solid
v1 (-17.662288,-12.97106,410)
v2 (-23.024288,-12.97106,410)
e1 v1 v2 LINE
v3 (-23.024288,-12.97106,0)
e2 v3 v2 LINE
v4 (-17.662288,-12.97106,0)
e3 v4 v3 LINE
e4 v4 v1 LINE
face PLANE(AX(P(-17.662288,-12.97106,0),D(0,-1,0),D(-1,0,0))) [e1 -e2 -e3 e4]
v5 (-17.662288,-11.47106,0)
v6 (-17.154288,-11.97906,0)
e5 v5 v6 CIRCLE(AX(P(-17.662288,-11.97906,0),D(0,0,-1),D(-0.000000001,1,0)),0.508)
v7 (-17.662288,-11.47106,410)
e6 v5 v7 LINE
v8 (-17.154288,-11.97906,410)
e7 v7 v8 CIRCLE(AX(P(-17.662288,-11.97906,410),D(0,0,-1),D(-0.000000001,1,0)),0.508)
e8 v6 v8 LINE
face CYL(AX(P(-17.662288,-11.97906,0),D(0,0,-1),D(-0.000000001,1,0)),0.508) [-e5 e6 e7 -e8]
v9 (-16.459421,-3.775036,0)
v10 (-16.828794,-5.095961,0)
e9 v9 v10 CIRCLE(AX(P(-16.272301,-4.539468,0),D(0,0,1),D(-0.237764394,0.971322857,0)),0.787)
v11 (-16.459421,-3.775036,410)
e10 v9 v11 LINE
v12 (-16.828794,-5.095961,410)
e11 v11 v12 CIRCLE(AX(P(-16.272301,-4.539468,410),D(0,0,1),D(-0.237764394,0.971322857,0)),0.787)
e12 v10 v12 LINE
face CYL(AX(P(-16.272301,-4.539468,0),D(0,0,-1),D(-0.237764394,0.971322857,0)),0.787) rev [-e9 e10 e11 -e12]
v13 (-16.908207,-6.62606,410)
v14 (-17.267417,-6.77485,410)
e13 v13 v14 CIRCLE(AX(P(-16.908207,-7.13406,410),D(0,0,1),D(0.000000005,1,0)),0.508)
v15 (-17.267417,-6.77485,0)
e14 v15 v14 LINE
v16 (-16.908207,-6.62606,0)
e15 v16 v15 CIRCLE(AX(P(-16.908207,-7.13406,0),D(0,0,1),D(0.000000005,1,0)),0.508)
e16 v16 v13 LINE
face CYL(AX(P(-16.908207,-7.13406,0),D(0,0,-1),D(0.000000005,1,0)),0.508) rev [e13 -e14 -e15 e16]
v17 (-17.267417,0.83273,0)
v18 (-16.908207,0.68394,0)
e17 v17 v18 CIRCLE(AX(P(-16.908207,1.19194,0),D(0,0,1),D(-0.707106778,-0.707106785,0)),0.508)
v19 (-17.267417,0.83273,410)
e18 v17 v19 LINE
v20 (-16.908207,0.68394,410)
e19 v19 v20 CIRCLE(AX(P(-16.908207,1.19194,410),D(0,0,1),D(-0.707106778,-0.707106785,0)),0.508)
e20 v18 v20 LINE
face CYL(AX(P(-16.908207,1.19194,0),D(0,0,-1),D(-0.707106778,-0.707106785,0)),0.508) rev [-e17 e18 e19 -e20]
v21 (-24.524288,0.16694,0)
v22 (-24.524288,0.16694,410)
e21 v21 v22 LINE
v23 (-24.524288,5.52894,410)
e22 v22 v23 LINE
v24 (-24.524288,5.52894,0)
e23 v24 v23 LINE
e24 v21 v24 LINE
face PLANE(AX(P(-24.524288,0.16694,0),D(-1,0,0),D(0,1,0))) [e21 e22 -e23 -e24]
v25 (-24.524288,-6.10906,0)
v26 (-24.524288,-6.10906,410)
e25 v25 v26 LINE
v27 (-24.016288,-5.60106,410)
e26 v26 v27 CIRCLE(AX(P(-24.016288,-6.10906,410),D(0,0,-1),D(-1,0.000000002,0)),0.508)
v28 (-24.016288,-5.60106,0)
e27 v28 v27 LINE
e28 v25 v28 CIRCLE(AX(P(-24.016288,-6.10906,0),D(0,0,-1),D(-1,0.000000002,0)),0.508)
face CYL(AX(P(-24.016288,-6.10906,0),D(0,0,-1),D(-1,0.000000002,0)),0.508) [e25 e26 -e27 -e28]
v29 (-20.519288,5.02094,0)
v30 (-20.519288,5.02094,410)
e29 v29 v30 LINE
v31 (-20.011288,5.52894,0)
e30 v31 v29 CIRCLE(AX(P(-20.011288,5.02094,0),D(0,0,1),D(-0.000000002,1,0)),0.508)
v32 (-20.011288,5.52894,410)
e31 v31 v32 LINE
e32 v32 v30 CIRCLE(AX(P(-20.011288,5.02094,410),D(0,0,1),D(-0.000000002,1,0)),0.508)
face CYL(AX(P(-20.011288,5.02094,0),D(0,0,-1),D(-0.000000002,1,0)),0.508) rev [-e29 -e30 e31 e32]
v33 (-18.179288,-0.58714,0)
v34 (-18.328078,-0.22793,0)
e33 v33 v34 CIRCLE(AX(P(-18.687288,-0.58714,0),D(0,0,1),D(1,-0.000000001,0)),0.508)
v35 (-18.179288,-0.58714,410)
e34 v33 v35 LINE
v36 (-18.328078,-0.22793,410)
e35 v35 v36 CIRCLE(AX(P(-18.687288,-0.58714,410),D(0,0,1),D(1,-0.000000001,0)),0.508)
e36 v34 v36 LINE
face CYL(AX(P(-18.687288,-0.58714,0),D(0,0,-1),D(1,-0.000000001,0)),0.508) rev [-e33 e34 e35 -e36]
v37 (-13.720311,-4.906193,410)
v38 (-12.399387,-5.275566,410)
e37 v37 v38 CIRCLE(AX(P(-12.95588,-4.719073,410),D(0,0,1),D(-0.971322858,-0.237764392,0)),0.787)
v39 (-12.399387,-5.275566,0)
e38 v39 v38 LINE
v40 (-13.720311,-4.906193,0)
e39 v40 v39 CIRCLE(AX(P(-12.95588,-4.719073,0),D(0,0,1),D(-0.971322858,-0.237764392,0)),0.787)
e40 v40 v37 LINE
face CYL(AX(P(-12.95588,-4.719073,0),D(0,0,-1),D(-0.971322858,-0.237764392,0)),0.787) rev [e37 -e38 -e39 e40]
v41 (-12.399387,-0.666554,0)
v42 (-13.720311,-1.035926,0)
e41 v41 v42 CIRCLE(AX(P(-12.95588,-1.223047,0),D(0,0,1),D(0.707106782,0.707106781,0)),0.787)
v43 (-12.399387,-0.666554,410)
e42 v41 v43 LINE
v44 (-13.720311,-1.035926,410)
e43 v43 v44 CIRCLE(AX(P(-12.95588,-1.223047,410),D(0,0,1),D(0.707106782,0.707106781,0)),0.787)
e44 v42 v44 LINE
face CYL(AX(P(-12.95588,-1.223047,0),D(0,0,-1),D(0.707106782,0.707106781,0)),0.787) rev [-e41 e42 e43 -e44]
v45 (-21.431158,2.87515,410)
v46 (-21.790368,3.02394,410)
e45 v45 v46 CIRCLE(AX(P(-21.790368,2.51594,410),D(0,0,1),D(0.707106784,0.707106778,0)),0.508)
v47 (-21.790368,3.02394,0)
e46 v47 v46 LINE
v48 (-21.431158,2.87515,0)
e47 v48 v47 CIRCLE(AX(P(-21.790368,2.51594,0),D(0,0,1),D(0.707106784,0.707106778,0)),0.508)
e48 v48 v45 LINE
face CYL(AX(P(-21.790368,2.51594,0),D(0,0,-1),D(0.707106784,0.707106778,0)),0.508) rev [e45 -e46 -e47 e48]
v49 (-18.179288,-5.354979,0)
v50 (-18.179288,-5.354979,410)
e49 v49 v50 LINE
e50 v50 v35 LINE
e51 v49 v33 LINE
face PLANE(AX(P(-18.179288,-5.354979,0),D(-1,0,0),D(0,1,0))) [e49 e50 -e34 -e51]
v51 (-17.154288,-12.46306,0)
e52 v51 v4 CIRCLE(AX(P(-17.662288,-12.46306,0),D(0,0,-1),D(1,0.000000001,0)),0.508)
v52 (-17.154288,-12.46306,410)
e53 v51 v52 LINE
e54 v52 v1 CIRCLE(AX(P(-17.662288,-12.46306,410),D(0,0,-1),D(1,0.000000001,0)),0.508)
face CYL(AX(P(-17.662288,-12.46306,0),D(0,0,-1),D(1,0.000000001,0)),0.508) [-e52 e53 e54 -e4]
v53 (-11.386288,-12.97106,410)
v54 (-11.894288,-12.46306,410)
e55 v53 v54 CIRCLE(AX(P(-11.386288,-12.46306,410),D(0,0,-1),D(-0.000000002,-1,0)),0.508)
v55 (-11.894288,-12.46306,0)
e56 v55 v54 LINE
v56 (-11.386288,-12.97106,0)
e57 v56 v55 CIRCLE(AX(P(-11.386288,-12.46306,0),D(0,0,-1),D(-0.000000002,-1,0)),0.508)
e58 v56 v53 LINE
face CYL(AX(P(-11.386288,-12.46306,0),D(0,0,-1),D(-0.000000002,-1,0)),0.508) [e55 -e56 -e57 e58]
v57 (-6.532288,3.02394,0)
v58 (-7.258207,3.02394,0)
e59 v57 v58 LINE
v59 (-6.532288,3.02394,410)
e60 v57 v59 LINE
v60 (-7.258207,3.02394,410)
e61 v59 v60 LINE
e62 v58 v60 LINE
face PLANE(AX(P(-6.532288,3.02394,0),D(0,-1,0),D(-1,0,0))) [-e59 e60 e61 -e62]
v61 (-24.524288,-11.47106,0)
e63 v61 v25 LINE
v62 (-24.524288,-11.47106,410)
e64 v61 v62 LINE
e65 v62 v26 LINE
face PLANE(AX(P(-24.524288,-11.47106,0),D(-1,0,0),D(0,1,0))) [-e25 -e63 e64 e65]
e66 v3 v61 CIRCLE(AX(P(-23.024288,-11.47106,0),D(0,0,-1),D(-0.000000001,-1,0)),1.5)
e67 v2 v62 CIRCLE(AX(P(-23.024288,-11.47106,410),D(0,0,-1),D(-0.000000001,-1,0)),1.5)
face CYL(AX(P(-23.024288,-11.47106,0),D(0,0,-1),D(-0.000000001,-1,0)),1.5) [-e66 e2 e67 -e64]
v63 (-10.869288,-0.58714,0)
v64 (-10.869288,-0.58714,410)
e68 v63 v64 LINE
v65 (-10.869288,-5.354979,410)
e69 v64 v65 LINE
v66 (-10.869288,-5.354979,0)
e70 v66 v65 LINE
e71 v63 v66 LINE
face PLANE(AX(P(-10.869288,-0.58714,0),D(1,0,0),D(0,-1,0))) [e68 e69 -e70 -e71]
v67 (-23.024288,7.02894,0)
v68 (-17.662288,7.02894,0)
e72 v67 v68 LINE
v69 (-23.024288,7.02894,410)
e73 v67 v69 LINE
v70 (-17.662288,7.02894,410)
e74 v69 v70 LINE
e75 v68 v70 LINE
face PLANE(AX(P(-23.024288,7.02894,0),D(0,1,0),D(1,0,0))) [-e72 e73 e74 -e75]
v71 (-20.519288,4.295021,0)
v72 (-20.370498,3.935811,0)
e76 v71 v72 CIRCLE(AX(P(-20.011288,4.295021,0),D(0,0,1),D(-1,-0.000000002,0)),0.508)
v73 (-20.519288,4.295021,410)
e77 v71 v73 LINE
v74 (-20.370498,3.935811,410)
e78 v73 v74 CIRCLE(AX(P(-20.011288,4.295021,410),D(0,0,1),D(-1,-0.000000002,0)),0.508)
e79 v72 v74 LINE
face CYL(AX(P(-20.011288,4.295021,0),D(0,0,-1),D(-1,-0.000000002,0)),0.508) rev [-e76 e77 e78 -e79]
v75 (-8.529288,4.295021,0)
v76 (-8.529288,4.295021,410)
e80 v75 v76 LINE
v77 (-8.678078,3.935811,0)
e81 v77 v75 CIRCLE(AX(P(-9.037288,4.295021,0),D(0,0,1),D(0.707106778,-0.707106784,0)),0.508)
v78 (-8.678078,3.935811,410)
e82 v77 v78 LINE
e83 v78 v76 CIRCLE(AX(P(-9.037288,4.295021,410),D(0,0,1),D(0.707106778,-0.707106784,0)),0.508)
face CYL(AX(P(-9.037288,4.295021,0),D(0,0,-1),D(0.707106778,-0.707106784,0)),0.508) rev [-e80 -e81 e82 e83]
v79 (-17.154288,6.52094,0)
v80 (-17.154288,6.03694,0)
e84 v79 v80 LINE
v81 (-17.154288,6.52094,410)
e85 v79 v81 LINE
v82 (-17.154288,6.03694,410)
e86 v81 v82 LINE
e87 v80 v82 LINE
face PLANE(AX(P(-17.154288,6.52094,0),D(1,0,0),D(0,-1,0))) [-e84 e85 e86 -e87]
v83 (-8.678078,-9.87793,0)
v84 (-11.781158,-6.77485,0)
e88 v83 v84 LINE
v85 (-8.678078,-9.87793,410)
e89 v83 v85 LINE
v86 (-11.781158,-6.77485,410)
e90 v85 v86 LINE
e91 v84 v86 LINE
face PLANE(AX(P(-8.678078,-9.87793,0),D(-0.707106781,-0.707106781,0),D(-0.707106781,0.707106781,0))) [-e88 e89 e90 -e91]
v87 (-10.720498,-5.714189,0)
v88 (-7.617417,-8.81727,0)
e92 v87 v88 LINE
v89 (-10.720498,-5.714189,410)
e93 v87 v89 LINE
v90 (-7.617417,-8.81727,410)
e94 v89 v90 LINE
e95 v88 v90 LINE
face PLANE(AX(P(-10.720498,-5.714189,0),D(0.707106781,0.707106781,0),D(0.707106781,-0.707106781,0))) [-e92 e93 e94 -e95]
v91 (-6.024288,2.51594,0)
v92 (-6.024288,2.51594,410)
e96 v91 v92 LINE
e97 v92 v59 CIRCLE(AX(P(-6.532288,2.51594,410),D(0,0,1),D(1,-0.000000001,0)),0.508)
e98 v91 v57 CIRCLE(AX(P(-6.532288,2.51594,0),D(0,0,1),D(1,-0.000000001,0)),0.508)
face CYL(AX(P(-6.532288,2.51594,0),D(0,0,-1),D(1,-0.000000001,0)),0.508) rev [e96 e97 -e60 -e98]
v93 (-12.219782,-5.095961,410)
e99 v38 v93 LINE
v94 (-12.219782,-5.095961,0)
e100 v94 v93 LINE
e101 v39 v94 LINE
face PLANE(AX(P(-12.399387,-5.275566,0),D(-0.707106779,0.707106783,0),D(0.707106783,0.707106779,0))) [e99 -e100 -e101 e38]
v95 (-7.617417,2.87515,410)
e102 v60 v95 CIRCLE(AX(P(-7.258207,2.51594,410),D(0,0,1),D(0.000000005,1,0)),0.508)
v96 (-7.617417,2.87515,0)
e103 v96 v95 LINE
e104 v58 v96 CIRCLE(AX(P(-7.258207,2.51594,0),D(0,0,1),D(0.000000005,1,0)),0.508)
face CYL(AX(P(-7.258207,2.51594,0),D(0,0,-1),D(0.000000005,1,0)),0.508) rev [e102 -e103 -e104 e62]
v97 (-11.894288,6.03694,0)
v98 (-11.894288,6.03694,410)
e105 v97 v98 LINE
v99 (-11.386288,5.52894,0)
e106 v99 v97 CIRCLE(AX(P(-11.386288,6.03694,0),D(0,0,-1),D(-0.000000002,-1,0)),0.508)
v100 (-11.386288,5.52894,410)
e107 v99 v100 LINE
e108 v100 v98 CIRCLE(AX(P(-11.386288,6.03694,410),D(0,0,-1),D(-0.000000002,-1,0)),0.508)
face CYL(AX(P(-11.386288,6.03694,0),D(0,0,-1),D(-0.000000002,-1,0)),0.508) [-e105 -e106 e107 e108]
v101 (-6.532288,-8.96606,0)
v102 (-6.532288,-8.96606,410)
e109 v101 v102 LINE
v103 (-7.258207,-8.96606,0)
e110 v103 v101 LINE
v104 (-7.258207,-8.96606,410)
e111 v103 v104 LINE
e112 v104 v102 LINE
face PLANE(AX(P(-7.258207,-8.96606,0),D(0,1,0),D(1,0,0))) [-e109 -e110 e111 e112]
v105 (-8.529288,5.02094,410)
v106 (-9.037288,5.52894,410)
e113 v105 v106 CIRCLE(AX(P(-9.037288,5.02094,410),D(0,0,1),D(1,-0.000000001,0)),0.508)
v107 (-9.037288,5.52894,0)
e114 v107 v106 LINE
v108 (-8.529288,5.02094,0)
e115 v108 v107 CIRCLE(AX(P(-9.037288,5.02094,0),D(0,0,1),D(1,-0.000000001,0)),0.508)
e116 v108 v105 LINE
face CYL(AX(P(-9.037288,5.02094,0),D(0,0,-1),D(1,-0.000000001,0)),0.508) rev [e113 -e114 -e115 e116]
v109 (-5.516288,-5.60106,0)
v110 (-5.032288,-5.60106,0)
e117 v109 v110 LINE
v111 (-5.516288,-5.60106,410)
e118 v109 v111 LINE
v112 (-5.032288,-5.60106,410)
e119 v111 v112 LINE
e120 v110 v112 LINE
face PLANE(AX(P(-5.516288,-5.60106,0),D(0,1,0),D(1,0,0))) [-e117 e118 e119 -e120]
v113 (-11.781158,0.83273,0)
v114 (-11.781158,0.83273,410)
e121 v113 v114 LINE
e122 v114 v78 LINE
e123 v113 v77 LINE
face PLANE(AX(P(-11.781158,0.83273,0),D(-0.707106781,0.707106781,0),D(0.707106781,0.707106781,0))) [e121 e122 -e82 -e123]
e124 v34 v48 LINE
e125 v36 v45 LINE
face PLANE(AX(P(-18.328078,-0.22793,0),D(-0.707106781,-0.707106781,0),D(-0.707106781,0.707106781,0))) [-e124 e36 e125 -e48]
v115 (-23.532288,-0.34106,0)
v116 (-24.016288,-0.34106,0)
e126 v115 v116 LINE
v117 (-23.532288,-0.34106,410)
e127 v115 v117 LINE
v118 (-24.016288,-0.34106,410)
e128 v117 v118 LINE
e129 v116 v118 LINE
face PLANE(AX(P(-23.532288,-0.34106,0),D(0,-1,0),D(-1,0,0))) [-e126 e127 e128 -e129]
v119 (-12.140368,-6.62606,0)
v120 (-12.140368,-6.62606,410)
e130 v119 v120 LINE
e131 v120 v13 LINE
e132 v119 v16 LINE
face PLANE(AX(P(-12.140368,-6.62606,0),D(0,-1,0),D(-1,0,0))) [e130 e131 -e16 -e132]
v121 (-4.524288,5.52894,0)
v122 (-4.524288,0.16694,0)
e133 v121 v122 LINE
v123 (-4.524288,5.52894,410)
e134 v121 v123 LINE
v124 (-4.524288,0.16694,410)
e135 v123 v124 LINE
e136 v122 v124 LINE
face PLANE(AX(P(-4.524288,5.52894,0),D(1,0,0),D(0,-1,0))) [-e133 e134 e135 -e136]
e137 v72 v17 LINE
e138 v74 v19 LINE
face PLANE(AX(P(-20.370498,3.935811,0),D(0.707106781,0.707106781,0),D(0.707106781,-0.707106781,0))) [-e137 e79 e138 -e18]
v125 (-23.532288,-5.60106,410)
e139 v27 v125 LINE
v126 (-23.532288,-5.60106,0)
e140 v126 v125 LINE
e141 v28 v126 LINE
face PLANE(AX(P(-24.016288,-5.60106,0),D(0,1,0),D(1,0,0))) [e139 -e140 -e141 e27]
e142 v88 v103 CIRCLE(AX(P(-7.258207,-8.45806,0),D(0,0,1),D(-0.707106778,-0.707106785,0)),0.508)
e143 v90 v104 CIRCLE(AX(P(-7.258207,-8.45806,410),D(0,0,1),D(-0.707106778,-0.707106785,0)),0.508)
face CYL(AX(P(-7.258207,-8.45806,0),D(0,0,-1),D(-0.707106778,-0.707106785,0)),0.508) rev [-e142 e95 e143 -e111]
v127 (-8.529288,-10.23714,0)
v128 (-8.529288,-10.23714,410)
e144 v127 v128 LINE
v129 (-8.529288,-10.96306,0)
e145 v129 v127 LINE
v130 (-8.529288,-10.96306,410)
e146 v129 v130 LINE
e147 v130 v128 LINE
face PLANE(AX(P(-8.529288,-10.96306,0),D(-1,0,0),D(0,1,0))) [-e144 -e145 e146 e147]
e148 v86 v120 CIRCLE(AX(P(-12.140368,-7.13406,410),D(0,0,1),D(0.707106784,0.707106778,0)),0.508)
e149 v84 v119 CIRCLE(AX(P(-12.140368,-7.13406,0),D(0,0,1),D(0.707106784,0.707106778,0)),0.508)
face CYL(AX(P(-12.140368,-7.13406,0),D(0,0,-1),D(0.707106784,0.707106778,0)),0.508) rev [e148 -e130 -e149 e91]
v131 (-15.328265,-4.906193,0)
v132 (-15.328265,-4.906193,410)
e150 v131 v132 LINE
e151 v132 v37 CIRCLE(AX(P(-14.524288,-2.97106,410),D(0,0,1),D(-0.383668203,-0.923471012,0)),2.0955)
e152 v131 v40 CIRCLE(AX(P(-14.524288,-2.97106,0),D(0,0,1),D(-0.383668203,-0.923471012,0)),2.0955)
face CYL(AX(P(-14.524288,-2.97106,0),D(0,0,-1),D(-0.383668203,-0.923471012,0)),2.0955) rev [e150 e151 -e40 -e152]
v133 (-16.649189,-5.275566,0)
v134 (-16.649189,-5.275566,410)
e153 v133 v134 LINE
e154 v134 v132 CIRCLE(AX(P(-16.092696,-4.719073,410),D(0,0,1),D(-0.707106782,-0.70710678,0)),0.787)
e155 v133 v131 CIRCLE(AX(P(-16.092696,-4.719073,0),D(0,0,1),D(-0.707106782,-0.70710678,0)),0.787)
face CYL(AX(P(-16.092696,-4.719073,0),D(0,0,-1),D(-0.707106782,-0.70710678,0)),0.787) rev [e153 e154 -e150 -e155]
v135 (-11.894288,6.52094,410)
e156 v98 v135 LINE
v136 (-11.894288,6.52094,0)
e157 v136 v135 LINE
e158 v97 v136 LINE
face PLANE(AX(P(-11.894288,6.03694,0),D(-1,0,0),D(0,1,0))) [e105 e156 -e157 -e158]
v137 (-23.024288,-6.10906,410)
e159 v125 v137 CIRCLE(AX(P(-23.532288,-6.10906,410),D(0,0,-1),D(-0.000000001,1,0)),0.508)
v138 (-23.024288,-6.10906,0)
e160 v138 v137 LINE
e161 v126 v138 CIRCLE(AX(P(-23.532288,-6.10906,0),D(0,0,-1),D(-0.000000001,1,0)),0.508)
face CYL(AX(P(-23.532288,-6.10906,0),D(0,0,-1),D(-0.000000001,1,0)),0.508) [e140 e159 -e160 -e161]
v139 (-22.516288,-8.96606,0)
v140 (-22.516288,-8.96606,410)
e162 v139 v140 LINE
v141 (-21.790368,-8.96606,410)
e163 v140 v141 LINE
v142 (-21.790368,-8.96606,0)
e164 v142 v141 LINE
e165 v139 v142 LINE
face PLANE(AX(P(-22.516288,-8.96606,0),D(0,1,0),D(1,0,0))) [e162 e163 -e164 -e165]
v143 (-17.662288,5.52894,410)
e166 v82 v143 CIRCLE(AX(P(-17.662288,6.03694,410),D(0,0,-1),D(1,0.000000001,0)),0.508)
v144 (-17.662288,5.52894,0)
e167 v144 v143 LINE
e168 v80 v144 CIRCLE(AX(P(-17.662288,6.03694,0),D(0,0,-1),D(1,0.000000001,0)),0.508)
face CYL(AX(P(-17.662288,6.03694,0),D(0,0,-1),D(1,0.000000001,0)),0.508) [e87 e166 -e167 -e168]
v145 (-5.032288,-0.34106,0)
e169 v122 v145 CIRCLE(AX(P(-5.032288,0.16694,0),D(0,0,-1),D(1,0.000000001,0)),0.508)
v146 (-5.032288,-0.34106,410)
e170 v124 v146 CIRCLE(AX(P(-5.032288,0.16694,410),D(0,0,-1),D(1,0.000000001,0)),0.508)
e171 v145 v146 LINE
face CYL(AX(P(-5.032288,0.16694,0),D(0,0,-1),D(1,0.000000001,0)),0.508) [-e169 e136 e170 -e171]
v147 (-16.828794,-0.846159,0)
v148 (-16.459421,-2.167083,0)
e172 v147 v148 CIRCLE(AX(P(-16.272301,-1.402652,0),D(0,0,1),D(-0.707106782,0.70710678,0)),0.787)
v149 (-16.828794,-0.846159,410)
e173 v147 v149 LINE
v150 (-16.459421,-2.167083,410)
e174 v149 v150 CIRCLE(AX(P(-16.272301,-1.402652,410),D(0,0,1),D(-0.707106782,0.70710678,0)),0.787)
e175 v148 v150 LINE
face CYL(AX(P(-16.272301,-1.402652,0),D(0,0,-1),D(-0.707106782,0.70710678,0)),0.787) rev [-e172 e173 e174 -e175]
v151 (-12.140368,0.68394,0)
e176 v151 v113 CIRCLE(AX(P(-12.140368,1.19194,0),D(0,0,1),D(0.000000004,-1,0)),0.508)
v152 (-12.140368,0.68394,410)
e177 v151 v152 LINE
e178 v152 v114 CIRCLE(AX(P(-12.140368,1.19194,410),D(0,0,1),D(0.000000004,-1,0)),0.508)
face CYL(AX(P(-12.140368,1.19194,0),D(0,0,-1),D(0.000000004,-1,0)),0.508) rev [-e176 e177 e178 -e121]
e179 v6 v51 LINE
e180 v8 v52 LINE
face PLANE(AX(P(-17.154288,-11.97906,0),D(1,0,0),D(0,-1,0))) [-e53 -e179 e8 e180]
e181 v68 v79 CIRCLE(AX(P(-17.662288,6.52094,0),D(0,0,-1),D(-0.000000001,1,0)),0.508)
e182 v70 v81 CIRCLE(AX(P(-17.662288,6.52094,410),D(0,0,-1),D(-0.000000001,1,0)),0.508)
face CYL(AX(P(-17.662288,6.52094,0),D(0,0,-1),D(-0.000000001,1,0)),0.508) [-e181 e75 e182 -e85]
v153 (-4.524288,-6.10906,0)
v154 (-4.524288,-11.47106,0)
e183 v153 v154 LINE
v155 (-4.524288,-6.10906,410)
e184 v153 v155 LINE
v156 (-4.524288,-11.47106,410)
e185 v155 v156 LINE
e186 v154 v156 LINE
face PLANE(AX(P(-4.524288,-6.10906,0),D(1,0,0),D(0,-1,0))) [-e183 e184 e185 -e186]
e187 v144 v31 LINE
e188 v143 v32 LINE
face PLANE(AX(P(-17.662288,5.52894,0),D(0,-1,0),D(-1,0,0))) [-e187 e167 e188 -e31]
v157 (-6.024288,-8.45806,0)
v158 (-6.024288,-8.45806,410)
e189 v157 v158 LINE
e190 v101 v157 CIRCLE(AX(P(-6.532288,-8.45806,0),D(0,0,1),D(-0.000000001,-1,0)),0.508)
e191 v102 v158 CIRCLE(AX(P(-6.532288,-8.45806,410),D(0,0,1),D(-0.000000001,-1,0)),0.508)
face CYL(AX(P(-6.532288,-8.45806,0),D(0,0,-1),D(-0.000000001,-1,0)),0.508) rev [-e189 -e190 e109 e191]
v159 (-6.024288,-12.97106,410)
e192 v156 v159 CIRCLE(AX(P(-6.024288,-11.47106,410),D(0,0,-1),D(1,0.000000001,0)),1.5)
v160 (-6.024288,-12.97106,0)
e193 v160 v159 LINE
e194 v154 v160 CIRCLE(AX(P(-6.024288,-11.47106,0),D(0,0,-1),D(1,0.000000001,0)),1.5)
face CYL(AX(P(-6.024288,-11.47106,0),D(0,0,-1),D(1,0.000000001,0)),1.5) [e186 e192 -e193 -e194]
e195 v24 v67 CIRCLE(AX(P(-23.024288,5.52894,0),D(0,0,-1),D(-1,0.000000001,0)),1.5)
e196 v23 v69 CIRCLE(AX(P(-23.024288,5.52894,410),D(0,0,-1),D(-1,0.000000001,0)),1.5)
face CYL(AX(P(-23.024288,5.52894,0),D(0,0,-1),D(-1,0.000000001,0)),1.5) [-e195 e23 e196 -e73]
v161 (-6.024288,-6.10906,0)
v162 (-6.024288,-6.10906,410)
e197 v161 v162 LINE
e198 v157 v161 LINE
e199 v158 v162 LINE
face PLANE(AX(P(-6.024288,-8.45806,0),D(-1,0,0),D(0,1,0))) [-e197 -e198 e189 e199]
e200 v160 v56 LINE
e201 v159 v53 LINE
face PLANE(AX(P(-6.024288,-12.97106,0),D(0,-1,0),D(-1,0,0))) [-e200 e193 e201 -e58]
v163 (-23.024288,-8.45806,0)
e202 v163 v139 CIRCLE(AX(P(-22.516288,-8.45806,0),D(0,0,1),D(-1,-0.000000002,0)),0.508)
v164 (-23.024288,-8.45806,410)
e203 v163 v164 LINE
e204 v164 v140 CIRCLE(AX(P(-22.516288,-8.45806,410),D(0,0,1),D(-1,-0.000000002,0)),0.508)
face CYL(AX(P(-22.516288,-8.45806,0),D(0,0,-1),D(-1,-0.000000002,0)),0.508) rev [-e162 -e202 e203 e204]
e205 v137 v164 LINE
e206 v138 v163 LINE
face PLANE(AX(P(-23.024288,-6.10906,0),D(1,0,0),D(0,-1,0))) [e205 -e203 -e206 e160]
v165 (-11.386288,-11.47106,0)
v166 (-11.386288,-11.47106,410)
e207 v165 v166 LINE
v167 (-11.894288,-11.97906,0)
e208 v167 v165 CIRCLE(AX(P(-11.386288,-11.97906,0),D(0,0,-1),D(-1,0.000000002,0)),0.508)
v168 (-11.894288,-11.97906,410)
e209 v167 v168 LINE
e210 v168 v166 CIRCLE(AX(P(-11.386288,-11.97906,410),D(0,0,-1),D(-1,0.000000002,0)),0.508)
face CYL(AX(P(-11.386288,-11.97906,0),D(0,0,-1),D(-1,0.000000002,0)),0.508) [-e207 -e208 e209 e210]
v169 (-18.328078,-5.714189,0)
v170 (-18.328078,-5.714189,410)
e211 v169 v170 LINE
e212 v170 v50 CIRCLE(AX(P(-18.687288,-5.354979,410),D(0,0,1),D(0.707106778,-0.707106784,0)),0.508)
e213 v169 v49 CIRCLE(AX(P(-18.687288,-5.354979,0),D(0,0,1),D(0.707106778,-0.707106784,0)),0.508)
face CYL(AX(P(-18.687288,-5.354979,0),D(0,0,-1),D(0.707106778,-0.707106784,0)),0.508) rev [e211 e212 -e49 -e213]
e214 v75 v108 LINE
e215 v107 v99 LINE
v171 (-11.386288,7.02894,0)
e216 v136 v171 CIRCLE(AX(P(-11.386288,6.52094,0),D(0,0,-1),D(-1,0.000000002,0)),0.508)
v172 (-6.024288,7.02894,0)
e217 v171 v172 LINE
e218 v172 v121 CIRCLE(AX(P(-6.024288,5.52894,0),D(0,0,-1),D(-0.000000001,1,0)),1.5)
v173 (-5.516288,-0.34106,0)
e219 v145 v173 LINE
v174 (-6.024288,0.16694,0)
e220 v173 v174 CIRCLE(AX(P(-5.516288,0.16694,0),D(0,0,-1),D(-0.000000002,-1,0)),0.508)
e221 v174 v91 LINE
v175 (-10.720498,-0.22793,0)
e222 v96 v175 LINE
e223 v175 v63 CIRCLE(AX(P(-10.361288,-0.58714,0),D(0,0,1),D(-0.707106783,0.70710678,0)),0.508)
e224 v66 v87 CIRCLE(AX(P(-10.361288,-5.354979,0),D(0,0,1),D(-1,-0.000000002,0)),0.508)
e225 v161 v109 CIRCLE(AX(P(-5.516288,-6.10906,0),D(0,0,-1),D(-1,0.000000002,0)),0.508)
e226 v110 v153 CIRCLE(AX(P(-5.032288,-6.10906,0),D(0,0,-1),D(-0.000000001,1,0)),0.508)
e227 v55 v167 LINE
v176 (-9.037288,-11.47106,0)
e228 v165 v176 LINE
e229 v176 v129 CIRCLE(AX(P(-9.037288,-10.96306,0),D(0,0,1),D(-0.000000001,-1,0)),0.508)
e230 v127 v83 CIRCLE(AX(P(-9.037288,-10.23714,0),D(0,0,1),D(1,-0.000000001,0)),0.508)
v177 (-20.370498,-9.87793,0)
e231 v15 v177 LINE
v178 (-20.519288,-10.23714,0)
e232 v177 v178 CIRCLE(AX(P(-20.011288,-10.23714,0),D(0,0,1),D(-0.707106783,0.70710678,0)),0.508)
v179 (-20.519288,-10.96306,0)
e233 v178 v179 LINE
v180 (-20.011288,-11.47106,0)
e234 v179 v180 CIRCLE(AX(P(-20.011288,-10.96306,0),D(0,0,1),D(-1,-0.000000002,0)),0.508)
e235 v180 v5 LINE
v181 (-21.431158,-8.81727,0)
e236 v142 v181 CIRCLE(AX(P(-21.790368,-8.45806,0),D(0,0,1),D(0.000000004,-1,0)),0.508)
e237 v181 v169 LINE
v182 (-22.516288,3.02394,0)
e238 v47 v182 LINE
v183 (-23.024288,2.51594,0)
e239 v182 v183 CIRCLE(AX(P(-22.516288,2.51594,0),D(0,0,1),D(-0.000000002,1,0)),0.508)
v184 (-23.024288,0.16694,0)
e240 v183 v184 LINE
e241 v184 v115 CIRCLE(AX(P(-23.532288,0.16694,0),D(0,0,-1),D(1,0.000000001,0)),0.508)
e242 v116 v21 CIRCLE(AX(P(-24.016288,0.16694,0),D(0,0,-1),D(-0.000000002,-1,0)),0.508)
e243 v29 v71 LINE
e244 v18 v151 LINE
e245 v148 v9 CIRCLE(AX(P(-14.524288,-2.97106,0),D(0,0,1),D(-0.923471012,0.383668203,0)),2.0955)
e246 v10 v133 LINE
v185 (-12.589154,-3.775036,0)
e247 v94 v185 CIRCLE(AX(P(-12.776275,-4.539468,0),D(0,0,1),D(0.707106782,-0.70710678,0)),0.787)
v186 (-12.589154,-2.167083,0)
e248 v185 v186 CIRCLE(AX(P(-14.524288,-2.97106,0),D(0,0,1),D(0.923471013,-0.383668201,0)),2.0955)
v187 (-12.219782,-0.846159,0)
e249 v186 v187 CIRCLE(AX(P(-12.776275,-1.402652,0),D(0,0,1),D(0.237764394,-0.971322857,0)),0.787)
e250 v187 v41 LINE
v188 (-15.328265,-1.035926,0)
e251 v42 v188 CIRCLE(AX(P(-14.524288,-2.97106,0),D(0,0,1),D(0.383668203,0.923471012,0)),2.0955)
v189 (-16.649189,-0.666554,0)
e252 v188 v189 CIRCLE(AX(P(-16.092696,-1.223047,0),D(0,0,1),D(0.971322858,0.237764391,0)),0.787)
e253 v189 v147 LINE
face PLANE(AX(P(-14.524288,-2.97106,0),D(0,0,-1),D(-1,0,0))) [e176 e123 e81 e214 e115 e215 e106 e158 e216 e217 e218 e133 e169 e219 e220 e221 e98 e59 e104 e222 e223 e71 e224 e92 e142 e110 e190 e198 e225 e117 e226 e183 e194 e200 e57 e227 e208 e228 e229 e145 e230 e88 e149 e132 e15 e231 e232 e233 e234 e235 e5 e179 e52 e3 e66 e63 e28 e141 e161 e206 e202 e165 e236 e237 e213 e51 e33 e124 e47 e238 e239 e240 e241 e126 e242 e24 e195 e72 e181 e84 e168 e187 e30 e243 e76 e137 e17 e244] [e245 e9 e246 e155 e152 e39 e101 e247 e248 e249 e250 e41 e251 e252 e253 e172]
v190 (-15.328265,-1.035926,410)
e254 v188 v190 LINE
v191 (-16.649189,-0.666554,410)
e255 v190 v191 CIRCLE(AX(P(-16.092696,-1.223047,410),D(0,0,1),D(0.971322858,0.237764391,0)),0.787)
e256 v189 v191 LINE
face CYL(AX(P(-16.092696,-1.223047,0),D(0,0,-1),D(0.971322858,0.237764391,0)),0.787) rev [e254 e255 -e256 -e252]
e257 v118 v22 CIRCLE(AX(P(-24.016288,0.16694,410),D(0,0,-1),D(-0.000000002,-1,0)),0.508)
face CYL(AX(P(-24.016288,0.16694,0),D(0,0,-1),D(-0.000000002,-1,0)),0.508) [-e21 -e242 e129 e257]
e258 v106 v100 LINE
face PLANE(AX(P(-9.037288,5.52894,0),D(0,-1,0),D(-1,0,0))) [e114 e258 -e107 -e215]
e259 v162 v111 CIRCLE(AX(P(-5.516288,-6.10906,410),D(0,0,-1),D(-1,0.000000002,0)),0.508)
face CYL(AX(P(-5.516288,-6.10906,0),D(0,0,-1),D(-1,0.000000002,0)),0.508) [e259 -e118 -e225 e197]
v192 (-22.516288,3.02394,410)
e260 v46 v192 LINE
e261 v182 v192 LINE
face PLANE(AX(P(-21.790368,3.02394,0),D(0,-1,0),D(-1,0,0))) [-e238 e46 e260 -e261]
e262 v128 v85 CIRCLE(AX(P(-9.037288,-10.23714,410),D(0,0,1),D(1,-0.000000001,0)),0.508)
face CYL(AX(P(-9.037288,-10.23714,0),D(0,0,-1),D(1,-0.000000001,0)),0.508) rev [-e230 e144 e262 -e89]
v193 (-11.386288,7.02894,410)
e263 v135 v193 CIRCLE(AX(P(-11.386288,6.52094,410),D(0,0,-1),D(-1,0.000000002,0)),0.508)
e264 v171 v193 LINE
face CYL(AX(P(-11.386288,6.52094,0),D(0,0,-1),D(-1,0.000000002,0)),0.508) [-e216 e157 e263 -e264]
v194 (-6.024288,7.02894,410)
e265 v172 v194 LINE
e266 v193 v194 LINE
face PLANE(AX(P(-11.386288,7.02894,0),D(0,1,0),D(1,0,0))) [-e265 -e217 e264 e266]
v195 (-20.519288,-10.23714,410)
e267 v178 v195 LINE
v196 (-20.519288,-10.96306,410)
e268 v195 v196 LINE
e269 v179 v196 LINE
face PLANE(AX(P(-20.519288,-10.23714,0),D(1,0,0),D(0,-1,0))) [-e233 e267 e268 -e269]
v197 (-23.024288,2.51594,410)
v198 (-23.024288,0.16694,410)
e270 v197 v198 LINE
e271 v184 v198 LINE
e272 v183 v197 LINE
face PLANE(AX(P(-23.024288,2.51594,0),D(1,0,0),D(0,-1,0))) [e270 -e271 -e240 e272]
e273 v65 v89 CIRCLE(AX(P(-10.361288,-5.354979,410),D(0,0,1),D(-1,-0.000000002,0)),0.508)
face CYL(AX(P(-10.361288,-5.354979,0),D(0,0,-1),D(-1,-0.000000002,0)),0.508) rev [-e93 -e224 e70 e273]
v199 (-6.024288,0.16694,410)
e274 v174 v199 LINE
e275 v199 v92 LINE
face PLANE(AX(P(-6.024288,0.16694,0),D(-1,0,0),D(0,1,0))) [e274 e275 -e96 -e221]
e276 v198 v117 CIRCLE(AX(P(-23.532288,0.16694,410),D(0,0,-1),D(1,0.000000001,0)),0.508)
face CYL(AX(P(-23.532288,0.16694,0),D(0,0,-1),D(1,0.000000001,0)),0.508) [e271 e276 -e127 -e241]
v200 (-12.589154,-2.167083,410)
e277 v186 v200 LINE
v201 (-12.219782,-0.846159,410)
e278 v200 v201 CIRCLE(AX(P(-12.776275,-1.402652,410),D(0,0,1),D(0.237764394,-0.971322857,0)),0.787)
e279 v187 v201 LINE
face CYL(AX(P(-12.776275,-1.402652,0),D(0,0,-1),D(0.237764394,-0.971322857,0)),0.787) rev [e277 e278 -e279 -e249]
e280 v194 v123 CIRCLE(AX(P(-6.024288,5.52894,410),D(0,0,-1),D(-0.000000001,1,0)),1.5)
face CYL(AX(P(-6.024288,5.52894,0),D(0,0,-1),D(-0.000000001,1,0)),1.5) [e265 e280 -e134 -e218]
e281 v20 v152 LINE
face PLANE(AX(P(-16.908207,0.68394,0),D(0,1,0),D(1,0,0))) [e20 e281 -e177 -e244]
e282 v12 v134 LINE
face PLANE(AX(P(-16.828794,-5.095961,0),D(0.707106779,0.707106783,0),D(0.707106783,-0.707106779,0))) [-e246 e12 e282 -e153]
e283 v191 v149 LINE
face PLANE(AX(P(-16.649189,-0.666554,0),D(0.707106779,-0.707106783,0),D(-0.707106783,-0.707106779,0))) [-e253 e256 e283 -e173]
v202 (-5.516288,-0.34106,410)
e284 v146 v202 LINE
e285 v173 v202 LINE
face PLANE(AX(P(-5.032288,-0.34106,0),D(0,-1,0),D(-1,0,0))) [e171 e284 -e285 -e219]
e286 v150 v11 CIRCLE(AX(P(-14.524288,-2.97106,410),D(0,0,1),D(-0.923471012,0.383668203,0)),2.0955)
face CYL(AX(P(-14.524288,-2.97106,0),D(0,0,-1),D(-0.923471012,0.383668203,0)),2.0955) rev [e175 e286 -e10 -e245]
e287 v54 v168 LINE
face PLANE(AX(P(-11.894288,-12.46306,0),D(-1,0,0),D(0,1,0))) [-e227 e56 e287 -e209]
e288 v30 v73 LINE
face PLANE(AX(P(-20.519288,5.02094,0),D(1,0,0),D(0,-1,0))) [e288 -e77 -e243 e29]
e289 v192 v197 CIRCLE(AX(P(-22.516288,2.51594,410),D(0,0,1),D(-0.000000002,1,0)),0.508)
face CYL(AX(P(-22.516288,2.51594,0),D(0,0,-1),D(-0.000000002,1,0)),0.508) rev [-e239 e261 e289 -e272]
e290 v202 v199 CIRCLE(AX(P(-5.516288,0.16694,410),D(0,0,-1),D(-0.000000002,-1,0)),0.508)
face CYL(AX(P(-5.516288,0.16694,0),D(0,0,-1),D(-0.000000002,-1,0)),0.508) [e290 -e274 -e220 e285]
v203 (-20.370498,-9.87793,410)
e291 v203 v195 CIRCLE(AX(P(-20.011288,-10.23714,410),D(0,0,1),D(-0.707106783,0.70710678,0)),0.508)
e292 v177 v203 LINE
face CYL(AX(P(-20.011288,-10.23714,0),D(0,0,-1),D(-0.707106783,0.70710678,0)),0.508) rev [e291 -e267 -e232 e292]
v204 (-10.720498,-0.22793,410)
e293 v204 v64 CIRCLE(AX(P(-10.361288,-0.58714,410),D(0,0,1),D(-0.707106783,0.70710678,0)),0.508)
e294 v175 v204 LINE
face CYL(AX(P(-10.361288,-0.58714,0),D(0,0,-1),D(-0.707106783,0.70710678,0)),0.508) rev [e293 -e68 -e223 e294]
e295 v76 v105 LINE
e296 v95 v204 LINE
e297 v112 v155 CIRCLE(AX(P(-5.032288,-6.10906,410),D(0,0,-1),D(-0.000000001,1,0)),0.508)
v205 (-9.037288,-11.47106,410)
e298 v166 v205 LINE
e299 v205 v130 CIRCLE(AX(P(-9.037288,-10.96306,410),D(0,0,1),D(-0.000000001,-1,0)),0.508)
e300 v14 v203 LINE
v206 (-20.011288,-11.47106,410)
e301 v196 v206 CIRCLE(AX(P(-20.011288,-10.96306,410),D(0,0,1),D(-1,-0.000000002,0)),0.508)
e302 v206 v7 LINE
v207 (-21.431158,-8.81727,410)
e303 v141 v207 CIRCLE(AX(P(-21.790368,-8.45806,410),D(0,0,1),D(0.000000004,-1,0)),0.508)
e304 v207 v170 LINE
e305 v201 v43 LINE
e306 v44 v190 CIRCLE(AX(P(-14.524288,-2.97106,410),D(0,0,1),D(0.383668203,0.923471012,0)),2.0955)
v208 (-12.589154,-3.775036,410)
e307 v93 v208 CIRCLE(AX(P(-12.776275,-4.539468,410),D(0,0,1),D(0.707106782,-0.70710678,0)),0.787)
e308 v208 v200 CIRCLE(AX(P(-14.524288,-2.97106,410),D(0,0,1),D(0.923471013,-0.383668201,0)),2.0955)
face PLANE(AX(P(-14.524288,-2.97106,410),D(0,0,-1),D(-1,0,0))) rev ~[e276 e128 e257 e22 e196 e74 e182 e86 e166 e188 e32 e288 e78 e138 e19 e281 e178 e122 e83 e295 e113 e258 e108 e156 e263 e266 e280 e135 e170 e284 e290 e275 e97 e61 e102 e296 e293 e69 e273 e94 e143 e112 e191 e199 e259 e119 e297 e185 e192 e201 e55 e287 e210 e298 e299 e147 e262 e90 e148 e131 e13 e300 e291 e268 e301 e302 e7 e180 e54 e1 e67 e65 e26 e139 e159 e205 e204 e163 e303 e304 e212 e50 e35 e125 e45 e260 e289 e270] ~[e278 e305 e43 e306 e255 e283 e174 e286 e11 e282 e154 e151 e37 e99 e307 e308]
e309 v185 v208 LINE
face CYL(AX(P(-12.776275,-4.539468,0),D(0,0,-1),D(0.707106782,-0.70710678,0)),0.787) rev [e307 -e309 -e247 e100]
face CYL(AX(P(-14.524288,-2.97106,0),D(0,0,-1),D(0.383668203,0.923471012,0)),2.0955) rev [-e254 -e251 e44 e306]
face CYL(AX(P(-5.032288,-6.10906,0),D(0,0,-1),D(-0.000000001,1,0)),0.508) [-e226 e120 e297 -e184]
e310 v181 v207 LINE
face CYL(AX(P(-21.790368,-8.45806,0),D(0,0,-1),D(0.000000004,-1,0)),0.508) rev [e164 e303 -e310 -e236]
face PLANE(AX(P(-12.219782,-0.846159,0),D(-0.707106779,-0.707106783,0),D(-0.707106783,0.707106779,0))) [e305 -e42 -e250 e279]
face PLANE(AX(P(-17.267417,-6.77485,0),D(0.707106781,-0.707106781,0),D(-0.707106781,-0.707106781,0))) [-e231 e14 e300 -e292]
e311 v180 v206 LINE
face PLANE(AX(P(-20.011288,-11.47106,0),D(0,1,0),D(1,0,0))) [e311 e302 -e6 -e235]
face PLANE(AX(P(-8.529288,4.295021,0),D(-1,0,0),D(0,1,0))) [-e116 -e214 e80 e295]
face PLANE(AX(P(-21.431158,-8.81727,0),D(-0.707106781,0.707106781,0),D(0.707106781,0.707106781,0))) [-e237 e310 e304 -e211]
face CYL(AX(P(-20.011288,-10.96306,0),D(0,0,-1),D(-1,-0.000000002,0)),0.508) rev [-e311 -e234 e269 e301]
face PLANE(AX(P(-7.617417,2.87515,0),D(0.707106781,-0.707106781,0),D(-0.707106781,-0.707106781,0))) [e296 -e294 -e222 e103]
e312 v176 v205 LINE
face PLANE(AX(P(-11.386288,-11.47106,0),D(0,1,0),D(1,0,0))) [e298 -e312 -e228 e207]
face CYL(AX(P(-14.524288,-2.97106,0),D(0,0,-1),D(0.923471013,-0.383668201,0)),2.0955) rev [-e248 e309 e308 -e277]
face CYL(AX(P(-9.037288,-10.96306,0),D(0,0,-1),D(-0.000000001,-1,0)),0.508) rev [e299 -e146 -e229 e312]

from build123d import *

# Parameters (mm, degrees)
EXTRUDE1_DEPTH = 410


with BuildPart() as part:
    # Sketch1 → Extrude1 (new body)
    with BuildSketch(Plane.XY):
        with BuildLine():
            Line((-5.032287798, -0.341059771), (-5.516287798, -0.341059771))
            ThreePointArc((-5.516287798, -0.341059771), (-5.875498042, -0.192270016), (-6.024287798, 0.166940229))
            Line((-6.024287798, 0.166940229), (-6.024287798, 2.515940229))
            ThreePointArc((-6.024287798, 2.515940229), (-6.173077553, 2.875150474), (-6.532287798, 3.023940229))
            Line((-6.532287798, 3.023940229), (-7.258207136, 3.023940229))
            ThreePointArc((-7.258207136, 3.023940229), (-7.45261032, 2.985271032), (-7.617417381, 2.875150474))
            Line((-7.617417381, 2.875150474), (-10.720498042, -0.227930187))
            ThreePointArc((-10.720498042, -0.227930187), (-10.8306186, -0.392737249), (-10.869287798, -0.587140432))
            Line((-10.869287798, -0.587140432), (-10.869287798, -5.354979109))
            ThreePointArc((-10.869287798, -5.354979109), (-10.8306186, -5.549382293), (-10.720498042, -5.714189354))
            Line((-10.720498042, -5.714189354), (-7.617417381, -8.817270016))
            ThreePointArc((-7.617417381, -8.817270016), (-7.45261032, -8.927390573), (-7.258207136, -8.966059771))
            Line((-7.258207136, -8.966059771), (-6.532287798, -8.966059771))
            ThreePointArc((-6.532287798, -8.966059771), (-6.173077553, -8.817270016), (-6.024287798, -8.458059771))
            Line((-6.024287798, -8.458059771), (-6.024287798, -6.109059771))
            ThreePointArc((-6.024287798, -6.109059771), (-5.875498042, -5.749849526), (-5.516287798, -5.601059771))
            Line((-5.516287798, -5.601059771), (-5.032287798, -5.601059771))
            ThreePointArc((-5.032287798, -5.601059771), (-4.673077553, -5.749849526), (-4.524287798, -6.109059771))
            Line((-4.524287798, -6.109059771), (-4.524287798, -11.471059771))
            ThreePointArc((-4.524287798, -11.471059771), (-4.963627626, -12.531719943), (-6.024287798, -12.971059771))
            Line((-6.024287798, -12.971059771), (-11.386287798, -12.971059771))
            ThreePointArc((-11.386287798, -12.971059771), (-11.745498042, -12.822270016), (-11.894287798, -12.463059771))
            Line((-11.894287798, -12.463059771), (-11.894287798, -11.979059771))
            ThreePointArc((-11.894287798, -11.979059771), (-11.745498042, -11.619849526), (-11.386287798, -11.471059771))
            Line((-11.386287798, -11.471059771), (-9.037287798, -11.471059771))
            ThreePointArc((-9.037287798, -11.471059771), (-8.678077553, -11.322270016), (-8.529287798, -10.963059771))
            Line((-8.529287798, -10.963059771), (-8.529287798, -10.237140432))
            ThreePointArc((-8.529287798, -10.237140432), (-8.567956995, -10.042737249), (-8.678077553, -9.877930187))
            Line((-8.678077553, -9.877930187), (-11.781158214, -6.774849526))
            ThreePointArc((-11.781158214, -6.774849526), (-11.945965275, -6.664728968), (-12.140368459, -6.626059771))
            Line((-12.140368459, -6.626059771), (-16.908207136, -6.626059771))
            ThreePointArc((-16.908207136, -6.626059771), (-17.10261032, -6.664728968), (-17.267417381, -6.774849526))
            Line((-17.267417381, -6.774849526), (-20.370498042, -9.877930187))
            ThreePointArc((-20.370498042, -9.877930187), (-20.4806186, -10.042737249), (-20.519287798, -10.237140432))
            Line((-20.519287798, -10.237140432), (-20.519287798, -10.963059771))
            ThreePointArc((-20.519287798, -10.963059771), (-20.370498042, -11.322270016), (-20.011287798, -11.471059771))
            Line((-20.011287798, -11.471059771), (-17.662287798, -11.471059771))
            ThreePointArc((-17.662287798, -11.471059771), (-17.303077553, -11.619849526), (-17.154287798, -11.979059771))
            Line((-17.154287798, -11.979059771), (-17.154287798, -12.463059771))
            ThreePointArc((-17.154287798, -12.463059771), (-17.303077553, -12.822270016), (-17.662287798, -12.971059771))
            Line((-17.662287798, -12.971059771), (-23.024287798, -12.971059771))
            ThreePointArc((-23.024287798, -12.971059771), (-24.084947969, -12.531719943), (-24.524287798, -11.471059771))
            Line((-24.524287798, -11.471059771), (-24.524287798, -6.109059771))
            ThreePointArc((-24.524287798, -6.109059771), (-24.375498042, -5.749849526), (-24.016287798, -5.601059771))
            Line((-24.016287798, -5.601059771), (-23.532287798, -5.601059771))
            ThreePointArc((-23.532287798, -5.601059771), (-23.173077553, -5.749849526), (-23.024287798, -6.109059771))
            Line((-23.024287798, -6.109059771), (-23.024287798, -8.458059771))
            ThreePointArc((-23.024287798, -8.458059771), (-22.875498042, -8.817270016), (-22.516287798, -8.966059771))
            Line((-22.516287798, -8.966059771), (-21.790368459, -8.966059771))
            ThreePointArc((-21.790368459, -8.966059771), (-21.595965275, -8.927390573), (-21.431158214, -8.817270016))
            Line((-21.431158214, -8.817270016), (-18.328077553, -5.714189354))
            ThreePointArc((-18.328077553, -5.714189354), (-18.217956995, -5.549382293), (-18.179287798, -5.354979109))
            Line((-18.179287798, -5.354979109), (-18.179287798, -0.587140432))
            ThreePointArc((-18.179287798, -0.587140432), (-18.217956995, -0.392737249), (-18.328077553, -0.227930187))
            Line((-18.328077553, -0.227930187), (-21.431158214, 2.875150474))
            ThreePointArc((-21.431158214, 2.875150474), (-21.595965275, 2.985271032), (-21.790368459, 3.023940229))
            Line((-21.790368459, 3.023940229), (-22.516287798, 3.023940229))
            ThreePointArc((-22.516287798, 3.023940229), (-22.875498042, 2.875150474), (-23.024287798, 2.515940229))
            Line((-23.024287798, 2.515940229), (-23.024287798, 0.166940229))
            ThreePointArc((-23.024287798, 0.166940229), (-23.173077553, -0.192270016), (-23.532287798, -0.341059771))
            Line((-23.532287798, -0.341059771), (-24.016287798, -0.341059771))
            ThreePointArc((-24.016287798, -0.341059771), (-24.375498042, -0.192270016), (-24.524287798, 0.166940229))
            Line((-24.524287798, 0.166940229), (-24.524287798, 5.528940229))
            ThreePointArc((-24.524287798, 5.528940229), (-24.084947969, 6.589600401), (-23.024287798, 7.028940229))
            Line((-23.024287798, 7.028940229), (-17.662287798, 7.028940229))
            ThreePointArc((-17.662287798, 7.028940229), (-17.303077553, 6.880150474), (-17.154287798, 6.520940229))
            Line((-17.154287798, 6.520940229), (-17.154287798, 6.036940229))
            ThreePointArc((-17.154287798, 6.036940229), (-17.303077553, 5.677729984), (-17.662287798, 5.528940229))
            Line((-17.662287798, 5.528940229), (-20.011287798, 5.528940229))
            ThreePointArc((-20.011287798, 5.528940229), (-20.370498042, 5.380150474), (-20.519287798, 5.020940229))
            Line((-20.519287798, 5.020940229), (-20.519287798, 4.295020891))
            ThreePointArc((-20.519287798, 4.295020891), (-20.4806186, 4.100617707), (-20.370498042, 3.935810646))
            Line((-20.370498042, 3.935810646), (-17.267417381, 0.832729984))
            ThreePointArc((-17.267417381, 0.832729984), (-17.10261032, 0.722609427), (-16.908207136, 0.683940229))
            Line((-16.908207136, 0.683940229), (-12.140368459, 0.683940229))
            ThreePointArc((-12.140368459, 0.683940229), (-11.945965275, 0.722609427), (-11.781158214, 0.832729984))
            Line((-11.781158214, 0.832729984), (-8.678077553, 3.935810646))
            ThreePointArc((-8.678077553, 3.935810646), (-8.567956995, 4.100617707), (-8.529287798, 4.295020891))
            Line((-8.529287798, 4.295020891), (-8.529287798, 5.020940229))
            ThreePointArc((-8.529287798, 5.020940229), (-8.678077553, 5.380150474), (-9.037287798, 5.528940229))
            Line((-9.037287798, 5.528940229), (-11.386287798, 5.528940229))
            ThreePointArc((-11.386287798, 5.528940229), (-11.745498042, 5.677729984), (-11.894287798, 6.036940229))
            Line((-11.894287798, 6.036940229), (-11.894287798, 6.520940229))
            ThreePointArc((-11.894287798, 6.520940229), (-11.745498042, 6.880150474), (-11.386287798, 7.028940229))
            Line((-11.386287798, 7.028940229), (-6.024287798, 7.028940229))
            ThreePointArc((-6.024287798, 7.028940229), (-4.963627626, 6.589600401), (-4.524287798, 5.528940229))
            Line((-4.524287798, 5.528940229), (-4.524287798, 0.166940229))
            ThreePointArc((-4.524287798, 0.166940229), (-4.673077553, -0.192270016), (-5.032287798, -0.341059771))
        make_face()
        with BuildLine():
            Line((-12.399386954, -5.275565737), (-12.219781831, -5.095960615))
            ThreePointArc((-12.219781831, -5.095960615), (-12.018349781, -4.327527582), (-12.589154291, -3.775036489))
            ThreePointArc((-12.589154291, -3.775036489), (-12.428787798, -2.971059771), (-12.589154291, -2.167083053))
            ThreePointArc((-12.589154291, -2.167083053), (-12.018349781, -1.61459196), (-12.219781831, -0.846158927))
            Line((-12.219781831, -0.846158927), (-12.399386954, -0.666553805))
            ThreePointArc((-12.399386954, -0.666553805), (-13.167819987, -0.465121754), (-13.72031108, -1.035926265))
            ThreePointArc((-13.72031108, -1.035926265), (-14.524287798, -0.875559771), (-15.328264516, -1.035926265))
            ThreePointArc((-15.328264516, -1.035926265), (-15.880755608, -0.465121754), (-16.649188641, -0.666553805))
            Line((-16.649188641, -0.666553805), (-16.828793764, -0.846158927))
            ThreePointArc((-16.828793764, -0.846158927), (-17.030225814, -1.61459196), (-16.459421304, -2.167083053))
            ThreePointArc((-16.459421304, -2.167083053), (-16.619787798, -2.971059771), (-16.459421304, -3.775036489))
            ThreePointArc((-16.459421304, -3.775036489), (-17.030225814, -4.327527582), (-16.828793764, -5.095960615))
            Line((-16.828793764, -5.095960615), (-16.649188641, -5.275565737))
            ThreePointArc((-16.649188641, -5.275565737), (-15.880755608, -5.476997788), (-15.328264516, -4.906193277))
            ThreePointArc((-15.328264516, -4.906193277), (-14.524287798, -5.066559771), (-13.72031108, -4.906193277))
            ThreePointArc((-13.72031108, -4.906193277), (-13.167819987, -5.476997788), (-12.399386954, -5.275565737))
        make_face(mode=Mode.SUBTRACT)
    extrude(amount=EXTRUDE1_DEPTH)


solid = part.part
